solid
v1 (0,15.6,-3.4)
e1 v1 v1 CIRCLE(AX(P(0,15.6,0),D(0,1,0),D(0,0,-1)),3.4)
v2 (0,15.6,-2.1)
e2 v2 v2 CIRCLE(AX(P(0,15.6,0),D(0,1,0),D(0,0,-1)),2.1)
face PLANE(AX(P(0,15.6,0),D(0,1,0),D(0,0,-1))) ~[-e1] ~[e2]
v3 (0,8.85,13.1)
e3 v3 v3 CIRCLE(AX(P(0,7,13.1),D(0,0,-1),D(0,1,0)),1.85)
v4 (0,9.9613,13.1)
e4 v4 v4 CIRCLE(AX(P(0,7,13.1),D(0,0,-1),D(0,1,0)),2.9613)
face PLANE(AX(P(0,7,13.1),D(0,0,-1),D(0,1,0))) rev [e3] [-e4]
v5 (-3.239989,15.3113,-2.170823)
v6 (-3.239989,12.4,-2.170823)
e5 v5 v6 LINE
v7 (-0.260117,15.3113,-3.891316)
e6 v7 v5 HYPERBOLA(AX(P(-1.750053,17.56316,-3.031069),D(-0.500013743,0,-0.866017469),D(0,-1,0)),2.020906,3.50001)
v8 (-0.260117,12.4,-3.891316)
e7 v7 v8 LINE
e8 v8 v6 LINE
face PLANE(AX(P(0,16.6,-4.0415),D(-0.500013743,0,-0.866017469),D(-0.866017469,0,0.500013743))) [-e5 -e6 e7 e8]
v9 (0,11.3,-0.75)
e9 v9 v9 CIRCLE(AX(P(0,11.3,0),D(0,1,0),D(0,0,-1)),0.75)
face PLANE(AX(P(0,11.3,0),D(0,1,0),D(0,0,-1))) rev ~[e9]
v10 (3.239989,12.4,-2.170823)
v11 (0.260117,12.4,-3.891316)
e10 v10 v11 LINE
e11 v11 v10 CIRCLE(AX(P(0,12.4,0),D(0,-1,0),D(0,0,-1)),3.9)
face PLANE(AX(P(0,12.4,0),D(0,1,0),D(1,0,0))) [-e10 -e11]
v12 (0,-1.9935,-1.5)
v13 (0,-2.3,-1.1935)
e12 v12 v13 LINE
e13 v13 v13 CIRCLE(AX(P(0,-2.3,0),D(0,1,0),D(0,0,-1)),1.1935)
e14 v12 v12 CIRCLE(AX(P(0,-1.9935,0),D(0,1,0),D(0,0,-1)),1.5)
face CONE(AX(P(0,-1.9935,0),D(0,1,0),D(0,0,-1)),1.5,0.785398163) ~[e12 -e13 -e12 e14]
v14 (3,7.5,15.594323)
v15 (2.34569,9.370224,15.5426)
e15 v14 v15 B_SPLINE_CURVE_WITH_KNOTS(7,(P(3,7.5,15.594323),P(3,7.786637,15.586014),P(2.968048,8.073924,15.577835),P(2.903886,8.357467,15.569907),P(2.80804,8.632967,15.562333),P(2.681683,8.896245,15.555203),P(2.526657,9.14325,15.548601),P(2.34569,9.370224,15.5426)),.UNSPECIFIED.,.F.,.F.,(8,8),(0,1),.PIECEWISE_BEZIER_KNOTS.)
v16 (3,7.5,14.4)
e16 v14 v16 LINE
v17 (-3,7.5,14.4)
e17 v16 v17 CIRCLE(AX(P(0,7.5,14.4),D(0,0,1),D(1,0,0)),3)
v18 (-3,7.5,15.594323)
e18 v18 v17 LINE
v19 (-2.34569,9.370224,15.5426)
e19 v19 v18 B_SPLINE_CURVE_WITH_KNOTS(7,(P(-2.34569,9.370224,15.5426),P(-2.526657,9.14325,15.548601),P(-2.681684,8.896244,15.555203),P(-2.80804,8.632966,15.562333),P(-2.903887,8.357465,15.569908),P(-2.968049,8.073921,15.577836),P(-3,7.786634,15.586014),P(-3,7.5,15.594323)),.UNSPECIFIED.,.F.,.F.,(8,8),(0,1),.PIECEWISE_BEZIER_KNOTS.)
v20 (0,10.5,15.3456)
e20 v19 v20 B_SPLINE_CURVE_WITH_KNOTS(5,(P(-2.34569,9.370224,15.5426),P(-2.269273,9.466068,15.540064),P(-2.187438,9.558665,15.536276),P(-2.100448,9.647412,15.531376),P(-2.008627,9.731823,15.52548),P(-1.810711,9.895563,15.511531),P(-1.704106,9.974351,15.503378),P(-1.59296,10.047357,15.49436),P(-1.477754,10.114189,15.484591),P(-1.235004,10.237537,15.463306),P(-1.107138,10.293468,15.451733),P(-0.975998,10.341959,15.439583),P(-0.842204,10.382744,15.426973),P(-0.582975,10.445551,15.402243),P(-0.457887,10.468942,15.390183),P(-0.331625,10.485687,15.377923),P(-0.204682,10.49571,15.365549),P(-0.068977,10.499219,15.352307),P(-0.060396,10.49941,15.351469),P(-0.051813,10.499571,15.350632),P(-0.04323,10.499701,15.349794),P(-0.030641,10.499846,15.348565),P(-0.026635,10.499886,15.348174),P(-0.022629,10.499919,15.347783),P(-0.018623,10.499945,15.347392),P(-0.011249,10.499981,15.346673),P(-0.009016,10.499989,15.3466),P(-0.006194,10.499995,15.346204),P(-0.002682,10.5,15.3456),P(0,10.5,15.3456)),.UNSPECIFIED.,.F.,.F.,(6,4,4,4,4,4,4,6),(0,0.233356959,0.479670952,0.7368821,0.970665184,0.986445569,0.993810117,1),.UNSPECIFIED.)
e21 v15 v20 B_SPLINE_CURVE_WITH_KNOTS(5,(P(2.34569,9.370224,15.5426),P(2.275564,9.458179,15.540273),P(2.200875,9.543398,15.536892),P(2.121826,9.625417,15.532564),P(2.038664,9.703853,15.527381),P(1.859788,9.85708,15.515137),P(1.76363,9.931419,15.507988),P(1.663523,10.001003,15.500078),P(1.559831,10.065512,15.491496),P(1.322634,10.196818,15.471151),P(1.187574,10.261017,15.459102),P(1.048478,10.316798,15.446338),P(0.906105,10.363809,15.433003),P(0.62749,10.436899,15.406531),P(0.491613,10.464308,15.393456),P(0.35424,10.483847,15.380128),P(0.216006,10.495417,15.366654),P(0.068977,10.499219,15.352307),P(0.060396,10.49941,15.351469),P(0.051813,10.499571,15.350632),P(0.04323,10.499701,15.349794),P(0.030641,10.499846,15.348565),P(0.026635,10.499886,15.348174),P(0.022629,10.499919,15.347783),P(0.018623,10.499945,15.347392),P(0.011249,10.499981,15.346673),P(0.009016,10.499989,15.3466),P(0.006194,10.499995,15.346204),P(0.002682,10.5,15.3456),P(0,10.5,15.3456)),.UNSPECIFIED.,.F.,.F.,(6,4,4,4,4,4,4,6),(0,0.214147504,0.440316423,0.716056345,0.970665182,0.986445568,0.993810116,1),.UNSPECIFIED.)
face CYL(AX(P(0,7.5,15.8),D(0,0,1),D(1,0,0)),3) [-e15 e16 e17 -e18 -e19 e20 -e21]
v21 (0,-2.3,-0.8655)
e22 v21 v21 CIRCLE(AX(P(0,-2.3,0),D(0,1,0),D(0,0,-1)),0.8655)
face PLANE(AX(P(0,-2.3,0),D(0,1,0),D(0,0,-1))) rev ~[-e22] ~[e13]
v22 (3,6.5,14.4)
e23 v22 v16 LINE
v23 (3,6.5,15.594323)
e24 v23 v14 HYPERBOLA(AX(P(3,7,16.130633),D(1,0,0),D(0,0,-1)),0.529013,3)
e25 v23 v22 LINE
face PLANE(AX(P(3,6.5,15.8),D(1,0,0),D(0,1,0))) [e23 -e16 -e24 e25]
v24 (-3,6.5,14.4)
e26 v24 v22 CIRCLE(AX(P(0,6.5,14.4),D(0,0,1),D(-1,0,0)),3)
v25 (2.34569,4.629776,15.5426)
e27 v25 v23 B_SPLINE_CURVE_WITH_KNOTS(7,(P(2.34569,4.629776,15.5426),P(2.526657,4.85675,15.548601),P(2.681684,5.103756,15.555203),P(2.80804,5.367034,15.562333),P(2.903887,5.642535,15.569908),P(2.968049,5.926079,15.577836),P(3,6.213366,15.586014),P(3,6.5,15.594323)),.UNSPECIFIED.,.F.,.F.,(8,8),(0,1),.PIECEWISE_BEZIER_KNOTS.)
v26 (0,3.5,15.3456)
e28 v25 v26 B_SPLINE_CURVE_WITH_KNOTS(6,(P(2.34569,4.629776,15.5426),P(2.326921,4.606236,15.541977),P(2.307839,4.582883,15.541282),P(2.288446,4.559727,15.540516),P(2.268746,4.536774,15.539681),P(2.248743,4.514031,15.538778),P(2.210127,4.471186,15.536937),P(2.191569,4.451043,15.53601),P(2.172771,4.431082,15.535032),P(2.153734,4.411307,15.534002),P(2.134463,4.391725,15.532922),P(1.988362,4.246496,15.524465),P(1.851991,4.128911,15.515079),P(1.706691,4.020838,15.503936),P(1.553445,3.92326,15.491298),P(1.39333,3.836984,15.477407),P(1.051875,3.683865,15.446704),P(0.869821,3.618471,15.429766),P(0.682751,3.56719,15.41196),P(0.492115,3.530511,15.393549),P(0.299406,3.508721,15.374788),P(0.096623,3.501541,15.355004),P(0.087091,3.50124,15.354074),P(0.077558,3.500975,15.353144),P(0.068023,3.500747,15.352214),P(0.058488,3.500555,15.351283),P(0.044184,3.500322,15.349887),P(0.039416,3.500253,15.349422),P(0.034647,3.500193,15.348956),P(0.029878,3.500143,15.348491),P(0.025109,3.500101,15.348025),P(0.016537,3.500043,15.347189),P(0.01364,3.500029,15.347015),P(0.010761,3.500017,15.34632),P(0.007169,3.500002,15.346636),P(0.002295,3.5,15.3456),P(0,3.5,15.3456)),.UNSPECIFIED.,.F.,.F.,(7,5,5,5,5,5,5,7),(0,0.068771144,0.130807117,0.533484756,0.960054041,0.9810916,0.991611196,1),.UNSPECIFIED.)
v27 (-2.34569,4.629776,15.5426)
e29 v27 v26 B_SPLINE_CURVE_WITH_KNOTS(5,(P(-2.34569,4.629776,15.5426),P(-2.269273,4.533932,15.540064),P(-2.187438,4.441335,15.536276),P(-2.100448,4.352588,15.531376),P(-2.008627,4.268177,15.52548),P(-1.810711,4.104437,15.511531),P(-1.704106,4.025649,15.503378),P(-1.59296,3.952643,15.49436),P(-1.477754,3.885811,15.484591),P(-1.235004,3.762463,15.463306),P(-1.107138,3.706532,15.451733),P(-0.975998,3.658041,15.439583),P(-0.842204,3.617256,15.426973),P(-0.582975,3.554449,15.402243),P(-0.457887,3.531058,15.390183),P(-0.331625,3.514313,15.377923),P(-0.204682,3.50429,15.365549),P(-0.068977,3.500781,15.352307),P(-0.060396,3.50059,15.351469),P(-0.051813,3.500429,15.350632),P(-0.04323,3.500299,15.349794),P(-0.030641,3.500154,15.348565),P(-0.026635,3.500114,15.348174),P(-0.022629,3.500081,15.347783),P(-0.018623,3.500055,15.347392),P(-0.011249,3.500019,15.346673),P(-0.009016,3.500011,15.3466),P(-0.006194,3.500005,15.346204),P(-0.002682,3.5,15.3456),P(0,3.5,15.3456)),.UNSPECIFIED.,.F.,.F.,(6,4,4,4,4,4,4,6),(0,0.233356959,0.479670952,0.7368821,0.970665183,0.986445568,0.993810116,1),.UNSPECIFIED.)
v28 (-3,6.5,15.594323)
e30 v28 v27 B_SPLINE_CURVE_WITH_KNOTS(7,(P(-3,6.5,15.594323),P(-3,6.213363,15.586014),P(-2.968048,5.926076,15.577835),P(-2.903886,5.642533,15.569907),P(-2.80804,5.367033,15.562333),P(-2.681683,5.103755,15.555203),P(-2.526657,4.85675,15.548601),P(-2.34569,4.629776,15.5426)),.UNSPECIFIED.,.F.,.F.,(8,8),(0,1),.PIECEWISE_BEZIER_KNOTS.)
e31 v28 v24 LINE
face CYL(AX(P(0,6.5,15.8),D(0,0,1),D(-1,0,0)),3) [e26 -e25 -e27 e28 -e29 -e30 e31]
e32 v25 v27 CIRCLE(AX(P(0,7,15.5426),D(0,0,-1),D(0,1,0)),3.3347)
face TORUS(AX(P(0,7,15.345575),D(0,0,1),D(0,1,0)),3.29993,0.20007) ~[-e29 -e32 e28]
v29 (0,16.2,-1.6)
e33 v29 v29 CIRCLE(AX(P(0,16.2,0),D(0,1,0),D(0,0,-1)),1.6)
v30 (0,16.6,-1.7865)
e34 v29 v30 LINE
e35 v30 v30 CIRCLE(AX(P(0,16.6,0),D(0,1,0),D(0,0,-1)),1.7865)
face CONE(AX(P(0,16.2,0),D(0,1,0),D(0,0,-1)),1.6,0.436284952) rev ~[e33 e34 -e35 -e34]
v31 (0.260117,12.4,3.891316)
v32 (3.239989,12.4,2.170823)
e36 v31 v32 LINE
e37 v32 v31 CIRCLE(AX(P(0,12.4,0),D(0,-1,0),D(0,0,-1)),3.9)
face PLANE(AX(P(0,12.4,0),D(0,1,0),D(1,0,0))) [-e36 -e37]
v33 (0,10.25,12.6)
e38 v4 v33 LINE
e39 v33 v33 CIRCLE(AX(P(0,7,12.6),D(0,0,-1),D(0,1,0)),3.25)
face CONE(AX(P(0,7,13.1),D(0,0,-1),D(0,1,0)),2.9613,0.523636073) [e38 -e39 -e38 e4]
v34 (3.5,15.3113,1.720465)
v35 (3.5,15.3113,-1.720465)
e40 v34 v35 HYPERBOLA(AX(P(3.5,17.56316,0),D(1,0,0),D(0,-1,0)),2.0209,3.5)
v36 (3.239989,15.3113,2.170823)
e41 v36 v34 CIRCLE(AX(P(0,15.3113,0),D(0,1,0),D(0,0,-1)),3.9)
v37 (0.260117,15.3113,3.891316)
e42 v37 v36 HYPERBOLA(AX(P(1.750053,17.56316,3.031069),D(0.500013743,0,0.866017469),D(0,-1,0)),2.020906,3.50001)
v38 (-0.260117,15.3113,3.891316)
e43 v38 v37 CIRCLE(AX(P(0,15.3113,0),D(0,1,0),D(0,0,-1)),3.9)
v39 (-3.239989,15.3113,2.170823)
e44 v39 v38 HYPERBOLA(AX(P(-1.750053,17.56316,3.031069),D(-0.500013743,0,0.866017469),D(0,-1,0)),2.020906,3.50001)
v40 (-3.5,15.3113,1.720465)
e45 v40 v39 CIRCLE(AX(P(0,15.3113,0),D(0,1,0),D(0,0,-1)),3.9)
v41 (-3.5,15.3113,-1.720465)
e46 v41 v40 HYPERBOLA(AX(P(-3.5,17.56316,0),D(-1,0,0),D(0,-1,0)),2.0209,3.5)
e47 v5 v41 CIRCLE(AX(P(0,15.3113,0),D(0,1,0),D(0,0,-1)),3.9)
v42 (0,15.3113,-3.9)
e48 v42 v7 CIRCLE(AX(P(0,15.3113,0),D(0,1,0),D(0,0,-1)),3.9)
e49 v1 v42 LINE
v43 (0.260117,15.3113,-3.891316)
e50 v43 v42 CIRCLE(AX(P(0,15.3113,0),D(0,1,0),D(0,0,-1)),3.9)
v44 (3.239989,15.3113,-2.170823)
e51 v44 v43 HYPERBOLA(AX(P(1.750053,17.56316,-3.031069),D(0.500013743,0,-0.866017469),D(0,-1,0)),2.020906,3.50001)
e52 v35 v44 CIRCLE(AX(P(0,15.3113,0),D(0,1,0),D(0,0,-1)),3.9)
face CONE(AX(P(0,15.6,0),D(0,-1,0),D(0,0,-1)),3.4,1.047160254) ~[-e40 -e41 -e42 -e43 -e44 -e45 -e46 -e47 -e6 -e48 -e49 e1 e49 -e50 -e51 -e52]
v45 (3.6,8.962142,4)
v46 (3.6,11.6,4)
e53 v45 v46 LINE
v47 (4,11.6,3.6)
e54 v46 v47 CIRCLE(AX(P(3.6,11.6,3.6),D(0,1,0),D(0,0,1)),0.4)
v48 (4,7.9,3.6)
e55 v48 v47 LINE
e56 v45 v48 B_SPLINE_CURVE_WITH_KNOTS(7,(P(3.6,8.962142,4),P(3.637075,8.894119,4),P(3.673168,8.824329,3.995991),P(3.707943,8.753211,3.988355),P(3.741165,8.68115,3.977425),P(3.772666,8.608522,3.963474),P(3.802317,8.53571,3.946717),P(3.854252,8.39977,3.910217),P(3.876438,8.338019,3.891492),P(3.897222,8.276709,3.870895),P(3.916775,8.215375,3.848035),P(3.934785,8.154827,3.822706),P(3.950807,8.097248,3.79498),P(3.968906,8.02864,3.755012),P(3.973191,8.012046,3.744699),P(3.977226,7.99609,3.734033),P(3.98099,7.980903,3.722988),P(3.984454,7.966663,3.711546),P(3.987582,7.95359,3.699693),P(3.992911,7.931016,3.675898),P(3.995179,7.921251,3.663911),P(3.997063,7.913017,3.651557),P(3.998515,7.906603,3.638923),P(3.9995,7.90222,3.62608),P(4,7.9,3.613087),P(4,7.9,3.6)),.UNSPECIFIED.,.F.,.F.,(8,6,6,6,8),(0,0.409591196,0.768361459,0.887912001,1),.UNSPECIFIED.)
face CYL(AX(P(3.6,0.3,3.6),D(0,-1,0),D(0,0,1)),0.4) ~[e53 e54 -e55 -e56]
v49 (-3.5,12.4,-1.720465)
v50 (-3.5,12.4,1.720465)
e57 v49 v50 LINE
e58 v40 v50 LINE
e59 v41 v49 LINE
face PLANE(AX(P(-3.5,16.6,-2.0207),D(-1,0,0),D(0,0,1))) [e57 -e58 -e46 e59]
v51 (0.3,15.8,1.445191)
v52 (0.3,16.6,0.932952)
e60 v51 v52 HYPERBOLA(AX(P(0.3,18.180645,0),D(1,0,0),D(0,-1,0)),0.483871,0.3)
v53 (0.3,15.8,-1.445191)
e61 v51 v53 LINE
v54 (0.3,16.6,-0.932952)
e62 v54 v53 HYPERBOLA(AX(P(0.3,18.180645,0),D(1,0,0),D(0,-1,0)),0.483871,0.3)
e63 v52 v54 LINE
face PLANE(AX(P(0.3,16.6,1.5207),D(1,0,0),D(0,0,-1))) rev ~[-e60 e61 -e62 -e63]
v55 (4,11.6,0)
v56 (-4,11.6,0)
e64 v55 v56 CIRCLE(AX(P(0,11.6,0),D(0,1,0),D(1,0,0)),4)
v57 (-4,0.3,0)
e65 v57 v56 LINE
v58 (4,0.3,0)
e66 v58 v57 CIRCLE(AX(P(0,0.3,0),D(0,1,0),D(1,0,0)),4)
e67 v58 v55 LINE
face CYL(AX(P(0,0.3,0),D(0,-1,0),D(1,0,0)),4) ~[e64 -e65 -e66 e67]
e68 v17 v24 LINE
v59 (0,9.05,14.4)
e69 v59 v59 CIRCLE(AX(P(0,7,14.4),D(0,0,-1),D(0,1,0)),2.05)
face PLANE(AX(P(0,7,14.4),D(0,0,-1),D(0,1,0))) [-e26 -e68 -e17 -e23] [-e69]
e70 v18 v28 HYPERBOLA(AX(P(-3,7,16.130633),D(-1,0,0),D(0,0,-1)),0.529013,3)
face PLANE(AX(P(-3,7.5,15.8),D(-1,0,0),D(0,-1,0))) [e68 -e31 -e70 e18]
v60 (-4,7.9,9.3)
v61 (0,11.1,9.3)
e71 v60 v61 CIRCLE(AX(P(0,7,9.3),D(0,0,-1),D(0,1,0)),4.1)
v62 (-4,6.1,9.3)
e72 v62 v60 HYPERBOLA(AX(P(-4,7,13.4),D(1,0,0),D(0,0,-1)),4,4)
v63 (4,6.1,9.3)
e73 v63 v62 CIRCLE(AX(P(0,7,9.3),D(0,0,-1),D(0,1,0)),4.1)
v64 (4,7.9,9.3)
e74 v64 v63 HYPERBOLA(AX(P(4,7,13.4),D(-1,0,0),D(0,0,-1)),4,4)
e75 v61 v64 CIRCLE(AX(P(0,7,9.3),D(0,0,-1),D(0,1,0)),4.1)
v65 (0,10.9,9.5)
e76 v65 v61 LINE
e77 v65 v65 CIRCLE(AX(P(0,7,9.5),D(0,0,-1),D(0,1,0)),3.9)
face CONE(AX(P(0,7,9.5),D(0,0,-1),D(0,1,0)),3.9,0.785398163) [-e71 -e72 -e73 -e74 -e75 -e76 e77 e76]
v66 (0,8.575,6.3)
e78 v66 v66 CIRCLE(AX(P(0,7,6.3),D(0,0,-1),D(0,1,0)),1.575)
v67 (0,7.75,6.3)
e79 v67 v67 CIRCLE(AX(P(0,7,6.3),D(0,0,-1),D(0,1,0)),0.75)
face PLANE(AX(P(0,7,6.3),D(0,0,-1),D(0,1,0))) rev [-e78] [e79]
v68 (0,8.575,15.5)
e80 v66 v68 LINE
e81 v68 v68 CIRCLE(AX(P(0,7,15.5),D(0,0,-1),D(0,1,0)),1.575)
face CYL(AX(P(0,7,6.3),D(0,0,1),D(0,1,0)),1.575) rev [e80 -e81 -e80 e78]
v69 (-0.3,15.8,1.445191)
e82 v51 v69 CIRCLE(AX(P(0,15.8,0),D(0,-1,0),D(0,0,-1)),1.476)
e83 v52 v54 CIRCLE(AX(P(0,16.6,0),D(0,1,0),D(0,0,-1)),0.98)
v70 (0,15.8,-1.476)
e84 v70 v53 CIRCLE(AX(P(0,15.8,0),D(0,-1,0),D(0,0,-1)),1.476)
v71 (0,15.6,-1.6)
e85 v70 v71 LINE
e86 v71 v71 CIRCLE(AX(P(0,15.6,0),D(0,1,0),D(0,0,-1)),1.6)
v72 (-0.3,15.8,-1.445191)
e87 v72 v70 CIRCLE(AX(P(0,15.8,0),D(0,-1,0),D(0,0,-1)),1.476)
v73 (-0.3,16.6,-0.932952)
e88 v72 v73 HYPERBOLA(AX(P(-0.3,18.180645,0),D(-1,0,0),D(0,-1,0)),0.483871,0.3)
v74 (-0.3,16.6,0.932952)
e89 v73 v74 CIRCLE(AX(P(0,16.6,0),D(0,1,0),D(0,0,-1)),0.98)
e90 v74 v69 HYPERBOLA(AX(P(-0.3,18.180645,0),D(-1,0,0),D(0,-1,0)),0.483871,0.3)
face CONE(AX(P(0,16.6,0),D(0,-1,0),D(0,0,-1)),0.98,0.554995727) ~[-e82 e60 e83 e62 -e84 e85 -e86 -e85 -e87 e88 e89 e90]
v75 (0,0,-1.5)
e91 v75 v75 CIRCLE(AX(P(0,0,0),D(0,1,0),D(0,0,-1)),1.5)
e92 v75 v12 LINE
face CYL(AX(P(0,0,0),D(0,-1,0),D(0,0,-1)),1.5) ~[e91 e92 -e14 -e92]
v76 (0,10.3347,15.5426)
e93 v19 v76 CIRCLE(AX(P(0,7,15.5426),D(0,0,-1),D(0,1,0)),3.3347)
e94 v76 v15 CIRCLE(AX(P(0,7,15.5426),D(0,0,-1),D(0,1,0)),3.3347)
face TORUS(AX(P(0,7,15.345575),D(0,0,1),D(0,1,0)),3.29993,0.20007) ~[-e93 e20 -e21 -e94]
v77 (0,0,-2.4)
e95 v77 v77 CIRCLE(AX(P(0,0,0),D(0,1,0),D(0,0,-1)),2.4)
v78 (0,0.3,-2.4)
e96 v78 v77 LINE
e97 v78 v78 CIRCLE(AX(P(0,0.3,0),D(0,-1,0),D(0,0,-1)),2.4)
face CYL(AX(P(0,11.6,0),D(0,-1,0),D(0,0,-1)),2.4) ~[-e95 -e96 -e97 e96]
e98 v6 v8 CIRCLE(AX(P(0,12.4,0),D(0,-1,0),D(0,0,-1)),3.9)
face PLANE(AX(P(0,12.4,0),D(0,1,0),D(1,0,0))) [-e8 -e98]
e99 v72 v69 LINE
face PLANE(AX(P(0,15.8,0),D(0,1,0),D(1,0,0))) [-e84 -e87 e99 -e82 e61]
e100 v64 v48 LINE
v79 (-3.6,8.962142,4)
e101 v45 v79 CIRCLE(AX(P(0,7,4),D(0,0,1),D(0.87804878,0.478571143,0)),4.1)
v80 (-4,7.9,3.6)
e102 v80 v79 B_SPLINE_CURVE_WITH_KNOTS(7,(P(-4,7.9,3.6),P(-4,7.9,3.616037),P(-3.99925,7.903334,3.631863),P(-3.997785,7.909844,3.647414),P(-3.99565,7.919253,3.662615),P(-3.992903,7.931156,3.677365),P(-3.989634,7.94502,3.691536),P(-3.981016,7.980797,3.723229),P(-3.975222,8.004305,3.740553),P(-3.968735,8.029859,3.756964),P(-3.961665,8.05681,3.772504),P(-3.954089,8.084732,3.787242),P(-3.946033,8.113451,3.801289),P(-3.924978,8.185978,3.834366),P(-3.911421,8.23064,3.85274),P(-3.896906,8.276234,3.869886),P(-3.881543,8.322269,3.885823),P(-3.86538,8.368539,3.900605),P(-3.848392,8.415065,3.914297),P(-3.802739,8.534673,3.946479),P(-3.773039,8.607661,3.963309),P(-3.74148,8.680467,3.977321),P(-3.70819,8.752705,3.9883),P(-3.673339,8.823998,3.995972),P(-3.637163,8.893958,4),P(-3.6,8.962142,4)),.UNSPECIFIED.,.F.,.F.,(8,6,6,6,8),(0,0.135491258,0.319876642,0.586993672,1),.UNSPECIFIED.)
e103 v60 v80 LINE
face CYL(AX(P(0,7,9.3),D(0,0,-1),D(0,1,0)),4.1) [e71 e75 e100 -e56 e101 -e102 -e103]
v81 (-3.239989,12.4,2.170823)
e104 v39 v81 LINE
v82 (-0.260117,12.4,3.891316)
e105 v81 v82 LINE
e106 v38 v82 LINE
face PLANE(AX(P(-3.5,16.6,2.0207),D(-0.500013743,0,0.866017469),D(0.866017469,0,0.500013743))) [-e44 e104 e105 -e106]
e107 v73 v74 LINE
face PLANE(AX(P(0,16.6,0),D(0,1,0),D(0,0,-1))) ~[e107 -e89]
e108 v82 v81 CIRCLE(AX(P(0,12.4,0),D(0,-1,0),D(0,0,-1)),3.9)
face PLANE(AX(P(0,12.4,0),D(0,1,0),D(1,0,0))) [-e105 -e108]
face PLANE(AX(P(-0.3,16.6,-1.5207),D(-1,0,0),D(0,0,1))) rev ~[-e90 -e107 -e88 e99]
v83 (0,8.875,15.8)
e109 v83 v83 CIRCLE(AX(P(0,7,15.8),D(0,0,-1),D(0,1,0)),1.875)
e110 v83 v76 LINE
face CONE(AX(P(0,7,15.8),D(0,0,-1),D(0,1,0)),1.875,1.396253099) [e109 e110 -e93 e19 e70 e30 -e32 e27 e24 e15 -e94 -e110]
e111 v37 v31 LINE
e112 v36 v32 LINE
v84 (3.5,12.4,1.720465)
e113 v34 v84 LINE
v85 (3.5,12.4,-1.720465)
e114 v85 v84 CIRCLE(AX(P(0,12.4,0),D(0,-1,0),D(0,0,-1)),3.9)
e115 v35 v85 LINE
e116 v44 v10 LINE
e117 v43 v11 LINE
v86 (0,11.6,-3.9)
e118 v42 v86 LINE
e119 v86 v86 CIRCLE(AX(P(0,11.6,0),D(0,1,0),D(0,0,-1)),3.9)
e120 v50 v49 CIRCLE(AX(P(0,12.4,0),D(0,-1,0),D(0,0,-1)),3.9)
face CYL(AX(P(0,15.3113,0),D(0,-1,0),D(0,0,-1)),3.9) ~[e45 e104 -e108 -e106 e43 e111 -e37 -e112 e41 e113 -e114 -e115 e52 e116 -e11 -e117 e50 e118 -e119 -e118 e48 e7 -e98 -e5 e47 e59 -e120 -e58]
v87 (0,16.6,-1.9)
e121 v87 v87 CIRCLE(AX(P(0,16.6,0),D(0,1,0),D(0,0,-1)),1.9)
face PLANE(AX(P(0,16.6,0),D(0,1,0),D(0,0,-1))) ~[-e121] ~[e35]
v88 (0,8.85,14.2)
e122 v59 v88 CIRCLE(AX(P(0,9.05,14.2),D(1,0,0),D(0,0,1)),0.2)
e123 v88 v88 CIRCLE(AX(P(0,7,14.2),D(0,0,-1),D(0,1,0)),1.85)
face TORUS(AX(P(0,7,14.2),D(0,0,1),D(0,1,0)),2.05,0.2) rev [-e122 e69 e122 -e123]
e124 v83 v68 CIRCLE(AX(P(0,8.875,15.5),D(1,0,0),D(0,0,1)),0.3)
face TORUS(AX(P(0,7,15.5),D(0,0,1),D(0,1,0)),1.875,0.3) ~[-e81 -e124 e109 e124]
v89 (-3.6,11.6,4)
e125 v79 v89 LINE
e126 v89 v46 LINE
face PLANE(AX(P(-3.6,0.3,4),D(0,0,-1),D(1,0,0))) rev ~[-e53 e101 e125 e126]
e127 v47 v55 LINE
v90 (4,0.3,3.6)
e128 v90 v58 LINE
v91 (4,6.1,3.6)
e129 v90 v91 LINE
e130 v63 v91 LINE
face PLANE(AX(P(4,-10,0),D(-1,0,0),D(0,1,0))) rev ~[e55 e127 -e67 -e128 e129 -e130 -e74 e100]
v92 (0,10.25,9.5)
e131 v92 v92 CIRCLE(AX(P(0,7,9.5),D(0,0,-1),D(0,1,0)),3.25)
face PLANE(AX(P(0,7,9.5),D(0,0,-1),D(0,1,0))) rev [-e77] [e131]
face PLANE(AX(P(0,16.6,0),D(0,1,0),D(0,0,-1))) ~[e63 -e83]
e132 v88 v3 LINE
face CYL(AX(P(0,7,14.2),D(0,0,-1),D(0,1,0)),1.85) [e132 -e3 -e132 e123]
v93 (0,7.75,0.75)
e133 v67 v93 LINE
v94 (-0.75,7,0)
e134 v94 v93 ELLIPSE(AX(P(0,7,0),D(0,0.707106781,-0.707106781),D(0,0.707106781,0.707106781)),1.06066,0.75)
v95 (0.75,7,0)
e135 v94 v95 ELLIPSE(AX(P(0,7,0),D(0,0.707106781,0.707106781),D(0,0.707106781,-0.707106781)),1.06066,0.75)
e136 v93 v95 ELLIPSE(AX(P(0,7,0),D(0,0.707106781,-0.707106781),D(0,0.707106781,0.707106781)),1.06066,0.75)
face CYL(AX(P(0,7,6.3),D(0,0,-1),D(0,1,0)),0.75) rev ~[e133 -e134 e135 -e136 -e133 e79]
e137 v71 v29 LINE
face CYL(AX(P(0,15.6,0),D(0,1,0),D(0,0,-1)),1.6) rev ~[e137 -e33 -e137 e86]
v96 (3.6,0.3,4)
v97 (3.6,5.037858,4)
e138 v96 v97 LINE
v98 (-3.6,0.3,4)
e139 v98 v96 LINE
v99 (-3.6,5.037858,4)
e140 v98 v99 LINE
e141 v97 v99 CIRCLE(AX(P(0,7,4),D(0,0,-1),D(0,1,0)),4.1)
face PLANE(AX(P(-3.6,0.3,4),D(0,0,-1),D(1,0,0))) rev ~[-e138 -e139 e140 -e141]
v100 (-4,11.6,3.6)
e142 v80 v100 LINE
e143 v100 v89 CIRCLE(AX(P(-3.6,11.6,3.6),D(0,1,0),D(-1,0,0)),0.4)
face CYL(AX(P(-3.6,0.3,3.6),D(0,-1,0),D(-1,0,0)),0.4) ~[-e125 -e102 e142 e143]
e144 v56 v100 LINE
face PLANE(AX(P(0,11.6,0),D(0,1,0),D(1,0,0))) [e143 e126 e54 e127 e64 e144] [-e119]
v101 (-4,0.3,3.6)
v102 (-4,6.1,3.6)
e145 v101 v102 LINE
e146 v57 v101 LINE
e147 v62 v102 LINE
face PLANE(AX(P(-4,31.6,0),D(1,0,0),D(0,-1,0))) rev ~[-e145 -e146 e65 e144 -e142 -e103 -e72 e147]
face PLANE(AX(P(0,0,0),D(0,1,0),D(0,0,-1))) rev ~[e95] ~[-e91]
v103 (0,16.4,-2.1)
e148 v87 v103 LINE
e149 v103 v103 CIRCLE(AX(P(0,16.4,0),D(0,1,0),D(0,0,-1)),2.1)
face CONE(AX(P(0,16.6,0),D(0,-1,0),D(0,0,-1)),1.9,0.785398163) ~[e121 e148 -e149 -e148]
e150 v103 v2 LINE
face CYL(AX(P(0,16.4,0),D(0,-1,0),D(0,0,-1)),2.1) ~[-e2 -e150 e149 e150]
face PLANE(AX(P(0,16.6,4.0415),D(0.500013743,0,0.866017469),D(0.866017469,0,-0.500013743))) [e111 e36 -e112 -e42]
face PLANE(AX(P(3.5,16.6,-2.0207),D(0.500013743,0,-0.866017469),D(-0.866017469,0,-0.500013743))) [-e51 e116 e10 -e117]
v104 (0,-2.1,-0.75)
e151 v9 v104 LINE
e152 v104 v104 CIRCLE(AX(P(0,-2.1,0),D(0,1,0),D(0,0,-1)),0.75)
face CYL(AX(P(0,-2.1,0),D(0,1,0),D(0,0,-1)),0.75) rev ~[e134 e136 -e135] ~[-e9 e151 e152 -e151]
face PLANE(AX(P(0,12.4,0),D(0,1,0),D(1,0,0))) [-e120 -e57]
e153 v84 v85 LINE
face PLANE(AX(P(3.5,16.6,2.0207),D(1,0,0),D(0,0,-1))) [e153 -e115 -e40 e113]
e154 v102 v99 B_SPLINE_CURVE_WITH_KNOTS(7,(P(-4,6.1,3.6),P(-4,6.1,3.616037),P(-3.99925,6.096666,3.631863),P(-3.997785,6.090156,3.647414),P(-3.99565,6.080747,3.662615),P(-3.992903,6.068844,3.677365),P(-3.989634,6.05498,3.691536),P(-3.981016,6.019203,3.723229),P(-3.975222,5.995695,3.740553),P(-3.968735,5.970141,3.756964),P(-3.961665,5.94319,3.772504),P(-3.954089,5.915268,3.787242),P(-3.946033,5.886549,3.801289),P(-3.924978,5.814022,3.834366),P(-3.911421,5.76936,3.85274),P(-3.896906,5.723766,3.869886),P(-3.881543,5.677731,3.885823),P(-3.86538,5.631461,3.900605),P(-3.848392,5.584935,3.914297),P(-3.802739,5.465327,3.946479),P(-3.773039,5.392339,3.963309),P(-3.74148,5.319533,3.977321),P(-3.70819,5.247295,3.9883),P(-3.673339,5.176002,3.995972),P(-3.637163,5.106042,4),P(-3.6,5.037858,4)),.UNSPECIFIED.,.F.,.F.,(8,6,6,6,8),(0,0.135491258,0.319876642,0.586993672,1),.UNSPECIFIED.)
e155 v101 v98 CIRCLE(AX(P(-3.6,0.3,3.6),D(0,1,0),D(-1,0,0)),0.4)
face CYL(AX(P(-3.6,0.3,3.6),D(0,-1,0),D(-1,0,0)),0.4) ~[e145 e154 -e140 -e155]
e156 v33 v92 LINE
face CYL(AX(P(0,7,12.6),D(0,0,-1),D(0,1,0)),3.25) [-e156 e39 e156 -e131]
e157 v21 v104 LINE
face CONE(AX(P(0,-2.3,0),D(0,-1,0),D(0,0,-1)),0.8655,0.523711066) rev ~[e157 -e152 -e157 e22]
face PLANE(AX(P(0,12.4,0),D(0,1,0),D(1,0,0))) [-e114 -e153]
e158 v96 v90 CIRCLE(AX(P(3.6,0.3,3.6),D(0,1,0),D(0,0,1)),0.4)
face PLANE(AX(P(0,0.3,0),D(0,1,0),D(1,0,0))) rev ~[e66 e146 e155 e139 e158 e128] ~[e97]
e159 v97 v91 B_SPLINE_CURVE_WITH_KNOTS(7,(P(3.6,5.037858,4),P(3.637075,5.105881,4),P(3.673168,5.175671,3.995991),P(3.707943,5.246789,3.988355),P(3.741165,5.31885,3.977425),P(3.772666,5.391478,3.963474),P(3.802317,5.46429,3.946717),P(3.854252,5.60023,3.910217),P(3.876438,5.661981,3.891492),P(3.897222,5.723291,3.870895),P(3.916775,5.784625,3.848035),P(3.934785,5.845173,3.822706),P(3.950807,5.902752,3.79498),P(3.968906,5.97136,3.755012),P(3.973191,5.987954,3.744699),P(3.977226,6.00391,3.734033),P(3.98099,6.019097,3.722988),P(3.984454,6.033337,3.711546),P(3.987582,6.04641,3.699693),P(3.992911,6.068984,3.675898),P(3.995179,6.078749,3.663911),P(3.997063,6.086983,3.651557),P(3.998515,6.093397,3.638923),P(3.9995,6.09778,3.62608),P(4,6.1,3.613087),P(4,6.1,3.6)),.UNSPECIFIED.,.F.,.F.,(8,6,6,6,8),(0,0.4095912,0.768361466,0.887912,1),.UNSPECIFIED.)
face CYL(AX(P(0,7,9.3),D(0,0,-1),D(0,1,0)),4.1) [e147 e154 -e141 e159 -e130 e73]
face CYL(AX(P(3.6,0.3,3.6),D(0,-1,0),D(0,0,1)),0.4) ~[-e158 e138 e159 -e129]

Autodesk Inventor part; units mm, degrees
sketch "Sketch_4" plane through (0, 0, 0) normal (1, 0, 0) x (0, 1, 0)
  line L0 (11.3, 0) -> (16.6, 0)
  line L1 (16.6, 0) -> (16.6, -0.98)
  line L2 (16.6, -0.98) -> (15.6, -1.6)
  line L3 (15.6, -1.6) -> (16.2, -1.6)
  line L4 (16.2, -1.6) -> (16.6, -1.7865)
  line L5 (16.6, -1.7865) -> (16.6, -1.9)
  line L6 (16.6, -1.9) -> (16.4, -2.1)
  line L7 (16.4, -2.1) -> (15.6, -2.1)
  line L8 (15.6, -2.1) -> (15.6, -3.4)
  line L9 (15.6, -3.4) -> (15.3113, -3.9)
  line L10 (15.3113, -3.9) -> (11.6, -3.9)
  line L11 (11.6, -3.9) -> (11.6, -2.4)
  line L12 (11.6, -2.4) -> (0, -2.4)
  line L13 (0, -2.4) -> (0, -1.5)
  line L14 (0, -1.5) -> (-1.9935, -1.5)
  line L15 (-1.9935, -1.5) -> (-2.3, -1.1935)
  line L16 (-2.3, -1.1935) -> (-2.3, -0.8655)
  line L17 (-2.3, -0.8655) -> (-2.1, -0.75)
  line L18 (-2.1, -0.75) -> (11.3, -0.75)
  line L19 (11.3, -0.75) -> (11.3, 0)
  line L20 (11.3, 0) -> (16.6, 0)
revolve "Revolution1" add sketch "Sketch_4" angle 360 about axis through (0, 11.3, 0) along (0, 1, 0)
thread "Thread1" size "M3x0.5" class "6g" standard "ISO Metric profile" full length
sketch "Sketch_12" plane through (0, 0.3, 0) normal (0, 1, 0) x (1, 0, 0)
  arc A0 (-4, -3.6) -> (-3.6, -4) centre (-3.6, -3.6) ccw
  line L0 (-3.6, -4) -> (3.6, -4)
  arc A1 (3.6, -4) -> (4, -3.6) centre (3.6, -3.6) ccw
  line L1 (4, -3.6) -> (4, 0)
  arc A2 (4, 0) -> (-4, 0) centre (0, 0) ccw
  line L2 (-4, 0) -> (-4, -3.6)
  circle A3 centre (0, 0) radius 0.75
extrude "Extrusion1" add sketch "Sketch_12" along normal blind 11.3
sketch "Sketch_13" plane through (0, 0, 0) normal (1, 0, 0) x (0, 1, 0)
  line L0 (7, 3.5) -> (7, 6.3)
  line L1 (7, 6.3) -> (8.575, 6.3)
  line L2 (8.575, 6.3) -> (8.575, 15.5)
  arc A0 (8.875, 15.8) -> (8.575, 15.5) centre (8.875, 15.5) ccw
  line L3 (8.875, 15.8) -> (10.3347, 15.5426)
  arc A1 (10.5, 15.3456) -> (10.3347, 15.5426) centre (10.3, 15.3456) ccw
  line L4 (10.5, 15.3456) -> (10.5, 14.4)
  line L5 (10.5, 14.4) -> (9.05, 14.4)
  arc A2 (9.05, 14.4) -> (8.85, 14.2) centre (9.05, 14.2) ccw
  line L6 (8.85, 14.2) -> (8.85, 13.1)
  line L7 (8.85, 13.1) -> (9.9613, 13.1)
  line L8 (9.9613, 13.1) -> (10.25, 12.6)
  line L9 (10.25, 12.6) -> (10.25, 9.5)
  line L10 (10.25, 9.5) -> (10.9, 9.5)
  line L11 (10.9, 9.5) -> (11.1, 9.3)
  line L12 (11.1, 9.3) -> (11.1, 3.5)
  line L13 (11.1, 3.5) -> (7, 3.5)
  line L14 (7, 3.5) -> (7, 6.3)
revolve "Revolution2" add sketch "Sketch_13" angle 360 about axis through (0, 7, 3.5) along (0, 0, -1)
sketch "Sketch_14" plane through (0, 16.6, 0) normal (0, 1, 0) x (1, 0, 0)
  line L0 (-5, -6) -> (5, -6)
  line L1 (5, -6) -> (5, 6)
  line L2 (5, 6) -> (-5, 6)
  line L3 (-5, 6) -> (-5, -6)
  line L4 (-3.5, -2.0207) -> (0, -4.0415)
  line L5 (0, -4.0415) -> (3.5, -2.0207)
  line L6 (3.5, -2.0207) -> (3.5, 2.0207)
  line L7 (3.5, 2.0207) -> (0, 4.0415)
  line L8 (0, 4.0415) -> (-3.5, 2.0207)
  line L9 (-3.5, 2.0207) -> (-3.5, -2.0207)
extrude "Extrusion2" cut sketch "Sketch_14" against normal blind 4.2
sketch "Sketch_15" plane through (0, 16.6, 0) normal (0, 1, 0) x (1, 0, 0)
  line L0 (-0.3, 1.5207) -> (-0.3, -1.5207)
  arc A0 (-0.3, -1.5207) -> (0.3, -1.5207) centre (0, 0) ccw
  line L1 (0.3, -1.5207) -> (0.3, 1.5207)
  arc A1 (0.3, 1.5207) -> (-0.3, 1.5207) centre (0, 0) ccw
extrude "Extrusion3" cut sketch "Sketch_15" against normal blind 0.8
sketch "Sketch_16" plane through (0, 0, 0) normal (0, 0, 1) x (1, 0, 0)
  line L0 (-9, 35) -> (-9, -15)
  line L1 (-9, -15) -> (9, -15)
  line L2 (9, -15) -> (9, 35)
  line L3 (9, 35) -> (-9, 35)
  line L4 (-4, 31.6) -> (-4, -10)
  line L5 (-4, -10) -> (4, -10)
  line L6 (4, -10) -> (4, 31.6)
  line L7 (4, 31.6) -> (-4, 31.6)
extrude "Extrusion4" cut sketch "Sketch_16" along normal blind 15.8
sketch "Sketch_7" plane through (0, 0, 0) normal (1, 0, 0) x (0, 1, 0)
  line L0 (7, 0) -> (7, 15.8)
  line L1 (7, 15.8) -> (8.8, 15.8)
  arc A0 (8.8, 15.8) -> (8.5, 15.5) centre (8.8, 15.5) ccw
  line L2 (8.5, 15.5) -> (8.5, 6.3)
  line L3 (8.5, 6.3) -> (7.75, 6.3)
  line L4 (7.75, 6.3) -> (7.75, 0)
  line L5 (7.75, 0) -> (7, 0)
  line L6 (7, 0) -> (7, 15.8)
revolve "Revolution3" cut sketch "Sketch_7" angle 360 about axis through (0, 7, 0) along (0, 0, -1)
sketch "Sketch_17" plane through (0, 0, 15.8) normal (0, 0, 1) x (1, 0, 0)
  line L0 (-6.7662, -4.0731) -> (6.559, -4.0731)
  line L1 (6.559, -4.0731) -> (6.559, 17.5987)
  line L2 (6.559, 17.5987) -> (-6.7662, 17.5987)
  line L3 (-6.7662, 17.5987) -> (-6.7662, -4.0731)
  arc A0 (-3, 6.5) -> (3, 6.5) centre (0, 6.5) ccw
  line L4 (3, 6.5) -> (3, 7.5)
  arc A1 (3, 7.5) -> (-3, 7.5) centre (0, 7.5) ccw
  line L5 (-3, 7.5) -> (-3, 6.5)
extrude "Extrusion5" cut sketch "Sketch_17" against normal blind 1.4
ref_plane "FDT_MOUNT_XY" through (0, 0, 0) normal (0, 1, 0) x (-1, 0, 0)
ref_plane "FDT_MOUNT_YZ" through (0, 0, 0) normal (-1, 0, 0) x (0, 0, 1)
ref_plane "FDT_MOUNT_ZX" through (0, 0, 0) normal (0, 0, 1) x (0, 1, 0)
ref_plane "FDT_SCHLAUCH_XY" through (0, 7, 6.3) normal (0, 0, 1) x (1, 0, 0)
ref_plane "FDT_SCHLAUCH_YZ" through (0, 7, 6.3) normal (1, 0, 0) x (0, 1, 0)
ref_plane "FDT_SCHLAUCH_ZX" through (0, 7, 6.3) normal (0, 1, 0) x (0, 0, 1)
ref_plane "Schlauch_XY" through (0, 7, 15.8) normal (0, 0, 1) x (1, 0, 0)
ref_plane "Schlauch_YZ" through (0, 7, 15.8) normal (1, 0, 0) x (0, 1, 0)
ref_plane "Schlauch_ZX" through (0, 7, 15.8) normal (0, 1, 0) x (0, 0, 1)
ref_plane "Zylinder_XY" through (0, -2.3, 0) normal (0, 1, 0) x (1, 0, 0)
ref_plane "Zylinder_YZ" through (0, -2.3, 0) normal (1, 0, 0) x (0, 0, -1)
ref_plane "Zylinder_ZX" through (0, -2.3, 0) normal (0, 0, -1) x (0, 1, 0)
ref_plane "anbau_XY" through (0, 0, 0) normal (0, 1, 0) x (1, 0, 0)
ref_plane "anbau_YZ" through (0, 0, 0) normal (1, 0, 0) x (0, 0, -1)
ref_plane "anbau_ZX" through (0, 0, 0) normal (0, 0, -1) x (0, 1, 0)
properties part number "175043 GRLZ-M3-QS-3"
